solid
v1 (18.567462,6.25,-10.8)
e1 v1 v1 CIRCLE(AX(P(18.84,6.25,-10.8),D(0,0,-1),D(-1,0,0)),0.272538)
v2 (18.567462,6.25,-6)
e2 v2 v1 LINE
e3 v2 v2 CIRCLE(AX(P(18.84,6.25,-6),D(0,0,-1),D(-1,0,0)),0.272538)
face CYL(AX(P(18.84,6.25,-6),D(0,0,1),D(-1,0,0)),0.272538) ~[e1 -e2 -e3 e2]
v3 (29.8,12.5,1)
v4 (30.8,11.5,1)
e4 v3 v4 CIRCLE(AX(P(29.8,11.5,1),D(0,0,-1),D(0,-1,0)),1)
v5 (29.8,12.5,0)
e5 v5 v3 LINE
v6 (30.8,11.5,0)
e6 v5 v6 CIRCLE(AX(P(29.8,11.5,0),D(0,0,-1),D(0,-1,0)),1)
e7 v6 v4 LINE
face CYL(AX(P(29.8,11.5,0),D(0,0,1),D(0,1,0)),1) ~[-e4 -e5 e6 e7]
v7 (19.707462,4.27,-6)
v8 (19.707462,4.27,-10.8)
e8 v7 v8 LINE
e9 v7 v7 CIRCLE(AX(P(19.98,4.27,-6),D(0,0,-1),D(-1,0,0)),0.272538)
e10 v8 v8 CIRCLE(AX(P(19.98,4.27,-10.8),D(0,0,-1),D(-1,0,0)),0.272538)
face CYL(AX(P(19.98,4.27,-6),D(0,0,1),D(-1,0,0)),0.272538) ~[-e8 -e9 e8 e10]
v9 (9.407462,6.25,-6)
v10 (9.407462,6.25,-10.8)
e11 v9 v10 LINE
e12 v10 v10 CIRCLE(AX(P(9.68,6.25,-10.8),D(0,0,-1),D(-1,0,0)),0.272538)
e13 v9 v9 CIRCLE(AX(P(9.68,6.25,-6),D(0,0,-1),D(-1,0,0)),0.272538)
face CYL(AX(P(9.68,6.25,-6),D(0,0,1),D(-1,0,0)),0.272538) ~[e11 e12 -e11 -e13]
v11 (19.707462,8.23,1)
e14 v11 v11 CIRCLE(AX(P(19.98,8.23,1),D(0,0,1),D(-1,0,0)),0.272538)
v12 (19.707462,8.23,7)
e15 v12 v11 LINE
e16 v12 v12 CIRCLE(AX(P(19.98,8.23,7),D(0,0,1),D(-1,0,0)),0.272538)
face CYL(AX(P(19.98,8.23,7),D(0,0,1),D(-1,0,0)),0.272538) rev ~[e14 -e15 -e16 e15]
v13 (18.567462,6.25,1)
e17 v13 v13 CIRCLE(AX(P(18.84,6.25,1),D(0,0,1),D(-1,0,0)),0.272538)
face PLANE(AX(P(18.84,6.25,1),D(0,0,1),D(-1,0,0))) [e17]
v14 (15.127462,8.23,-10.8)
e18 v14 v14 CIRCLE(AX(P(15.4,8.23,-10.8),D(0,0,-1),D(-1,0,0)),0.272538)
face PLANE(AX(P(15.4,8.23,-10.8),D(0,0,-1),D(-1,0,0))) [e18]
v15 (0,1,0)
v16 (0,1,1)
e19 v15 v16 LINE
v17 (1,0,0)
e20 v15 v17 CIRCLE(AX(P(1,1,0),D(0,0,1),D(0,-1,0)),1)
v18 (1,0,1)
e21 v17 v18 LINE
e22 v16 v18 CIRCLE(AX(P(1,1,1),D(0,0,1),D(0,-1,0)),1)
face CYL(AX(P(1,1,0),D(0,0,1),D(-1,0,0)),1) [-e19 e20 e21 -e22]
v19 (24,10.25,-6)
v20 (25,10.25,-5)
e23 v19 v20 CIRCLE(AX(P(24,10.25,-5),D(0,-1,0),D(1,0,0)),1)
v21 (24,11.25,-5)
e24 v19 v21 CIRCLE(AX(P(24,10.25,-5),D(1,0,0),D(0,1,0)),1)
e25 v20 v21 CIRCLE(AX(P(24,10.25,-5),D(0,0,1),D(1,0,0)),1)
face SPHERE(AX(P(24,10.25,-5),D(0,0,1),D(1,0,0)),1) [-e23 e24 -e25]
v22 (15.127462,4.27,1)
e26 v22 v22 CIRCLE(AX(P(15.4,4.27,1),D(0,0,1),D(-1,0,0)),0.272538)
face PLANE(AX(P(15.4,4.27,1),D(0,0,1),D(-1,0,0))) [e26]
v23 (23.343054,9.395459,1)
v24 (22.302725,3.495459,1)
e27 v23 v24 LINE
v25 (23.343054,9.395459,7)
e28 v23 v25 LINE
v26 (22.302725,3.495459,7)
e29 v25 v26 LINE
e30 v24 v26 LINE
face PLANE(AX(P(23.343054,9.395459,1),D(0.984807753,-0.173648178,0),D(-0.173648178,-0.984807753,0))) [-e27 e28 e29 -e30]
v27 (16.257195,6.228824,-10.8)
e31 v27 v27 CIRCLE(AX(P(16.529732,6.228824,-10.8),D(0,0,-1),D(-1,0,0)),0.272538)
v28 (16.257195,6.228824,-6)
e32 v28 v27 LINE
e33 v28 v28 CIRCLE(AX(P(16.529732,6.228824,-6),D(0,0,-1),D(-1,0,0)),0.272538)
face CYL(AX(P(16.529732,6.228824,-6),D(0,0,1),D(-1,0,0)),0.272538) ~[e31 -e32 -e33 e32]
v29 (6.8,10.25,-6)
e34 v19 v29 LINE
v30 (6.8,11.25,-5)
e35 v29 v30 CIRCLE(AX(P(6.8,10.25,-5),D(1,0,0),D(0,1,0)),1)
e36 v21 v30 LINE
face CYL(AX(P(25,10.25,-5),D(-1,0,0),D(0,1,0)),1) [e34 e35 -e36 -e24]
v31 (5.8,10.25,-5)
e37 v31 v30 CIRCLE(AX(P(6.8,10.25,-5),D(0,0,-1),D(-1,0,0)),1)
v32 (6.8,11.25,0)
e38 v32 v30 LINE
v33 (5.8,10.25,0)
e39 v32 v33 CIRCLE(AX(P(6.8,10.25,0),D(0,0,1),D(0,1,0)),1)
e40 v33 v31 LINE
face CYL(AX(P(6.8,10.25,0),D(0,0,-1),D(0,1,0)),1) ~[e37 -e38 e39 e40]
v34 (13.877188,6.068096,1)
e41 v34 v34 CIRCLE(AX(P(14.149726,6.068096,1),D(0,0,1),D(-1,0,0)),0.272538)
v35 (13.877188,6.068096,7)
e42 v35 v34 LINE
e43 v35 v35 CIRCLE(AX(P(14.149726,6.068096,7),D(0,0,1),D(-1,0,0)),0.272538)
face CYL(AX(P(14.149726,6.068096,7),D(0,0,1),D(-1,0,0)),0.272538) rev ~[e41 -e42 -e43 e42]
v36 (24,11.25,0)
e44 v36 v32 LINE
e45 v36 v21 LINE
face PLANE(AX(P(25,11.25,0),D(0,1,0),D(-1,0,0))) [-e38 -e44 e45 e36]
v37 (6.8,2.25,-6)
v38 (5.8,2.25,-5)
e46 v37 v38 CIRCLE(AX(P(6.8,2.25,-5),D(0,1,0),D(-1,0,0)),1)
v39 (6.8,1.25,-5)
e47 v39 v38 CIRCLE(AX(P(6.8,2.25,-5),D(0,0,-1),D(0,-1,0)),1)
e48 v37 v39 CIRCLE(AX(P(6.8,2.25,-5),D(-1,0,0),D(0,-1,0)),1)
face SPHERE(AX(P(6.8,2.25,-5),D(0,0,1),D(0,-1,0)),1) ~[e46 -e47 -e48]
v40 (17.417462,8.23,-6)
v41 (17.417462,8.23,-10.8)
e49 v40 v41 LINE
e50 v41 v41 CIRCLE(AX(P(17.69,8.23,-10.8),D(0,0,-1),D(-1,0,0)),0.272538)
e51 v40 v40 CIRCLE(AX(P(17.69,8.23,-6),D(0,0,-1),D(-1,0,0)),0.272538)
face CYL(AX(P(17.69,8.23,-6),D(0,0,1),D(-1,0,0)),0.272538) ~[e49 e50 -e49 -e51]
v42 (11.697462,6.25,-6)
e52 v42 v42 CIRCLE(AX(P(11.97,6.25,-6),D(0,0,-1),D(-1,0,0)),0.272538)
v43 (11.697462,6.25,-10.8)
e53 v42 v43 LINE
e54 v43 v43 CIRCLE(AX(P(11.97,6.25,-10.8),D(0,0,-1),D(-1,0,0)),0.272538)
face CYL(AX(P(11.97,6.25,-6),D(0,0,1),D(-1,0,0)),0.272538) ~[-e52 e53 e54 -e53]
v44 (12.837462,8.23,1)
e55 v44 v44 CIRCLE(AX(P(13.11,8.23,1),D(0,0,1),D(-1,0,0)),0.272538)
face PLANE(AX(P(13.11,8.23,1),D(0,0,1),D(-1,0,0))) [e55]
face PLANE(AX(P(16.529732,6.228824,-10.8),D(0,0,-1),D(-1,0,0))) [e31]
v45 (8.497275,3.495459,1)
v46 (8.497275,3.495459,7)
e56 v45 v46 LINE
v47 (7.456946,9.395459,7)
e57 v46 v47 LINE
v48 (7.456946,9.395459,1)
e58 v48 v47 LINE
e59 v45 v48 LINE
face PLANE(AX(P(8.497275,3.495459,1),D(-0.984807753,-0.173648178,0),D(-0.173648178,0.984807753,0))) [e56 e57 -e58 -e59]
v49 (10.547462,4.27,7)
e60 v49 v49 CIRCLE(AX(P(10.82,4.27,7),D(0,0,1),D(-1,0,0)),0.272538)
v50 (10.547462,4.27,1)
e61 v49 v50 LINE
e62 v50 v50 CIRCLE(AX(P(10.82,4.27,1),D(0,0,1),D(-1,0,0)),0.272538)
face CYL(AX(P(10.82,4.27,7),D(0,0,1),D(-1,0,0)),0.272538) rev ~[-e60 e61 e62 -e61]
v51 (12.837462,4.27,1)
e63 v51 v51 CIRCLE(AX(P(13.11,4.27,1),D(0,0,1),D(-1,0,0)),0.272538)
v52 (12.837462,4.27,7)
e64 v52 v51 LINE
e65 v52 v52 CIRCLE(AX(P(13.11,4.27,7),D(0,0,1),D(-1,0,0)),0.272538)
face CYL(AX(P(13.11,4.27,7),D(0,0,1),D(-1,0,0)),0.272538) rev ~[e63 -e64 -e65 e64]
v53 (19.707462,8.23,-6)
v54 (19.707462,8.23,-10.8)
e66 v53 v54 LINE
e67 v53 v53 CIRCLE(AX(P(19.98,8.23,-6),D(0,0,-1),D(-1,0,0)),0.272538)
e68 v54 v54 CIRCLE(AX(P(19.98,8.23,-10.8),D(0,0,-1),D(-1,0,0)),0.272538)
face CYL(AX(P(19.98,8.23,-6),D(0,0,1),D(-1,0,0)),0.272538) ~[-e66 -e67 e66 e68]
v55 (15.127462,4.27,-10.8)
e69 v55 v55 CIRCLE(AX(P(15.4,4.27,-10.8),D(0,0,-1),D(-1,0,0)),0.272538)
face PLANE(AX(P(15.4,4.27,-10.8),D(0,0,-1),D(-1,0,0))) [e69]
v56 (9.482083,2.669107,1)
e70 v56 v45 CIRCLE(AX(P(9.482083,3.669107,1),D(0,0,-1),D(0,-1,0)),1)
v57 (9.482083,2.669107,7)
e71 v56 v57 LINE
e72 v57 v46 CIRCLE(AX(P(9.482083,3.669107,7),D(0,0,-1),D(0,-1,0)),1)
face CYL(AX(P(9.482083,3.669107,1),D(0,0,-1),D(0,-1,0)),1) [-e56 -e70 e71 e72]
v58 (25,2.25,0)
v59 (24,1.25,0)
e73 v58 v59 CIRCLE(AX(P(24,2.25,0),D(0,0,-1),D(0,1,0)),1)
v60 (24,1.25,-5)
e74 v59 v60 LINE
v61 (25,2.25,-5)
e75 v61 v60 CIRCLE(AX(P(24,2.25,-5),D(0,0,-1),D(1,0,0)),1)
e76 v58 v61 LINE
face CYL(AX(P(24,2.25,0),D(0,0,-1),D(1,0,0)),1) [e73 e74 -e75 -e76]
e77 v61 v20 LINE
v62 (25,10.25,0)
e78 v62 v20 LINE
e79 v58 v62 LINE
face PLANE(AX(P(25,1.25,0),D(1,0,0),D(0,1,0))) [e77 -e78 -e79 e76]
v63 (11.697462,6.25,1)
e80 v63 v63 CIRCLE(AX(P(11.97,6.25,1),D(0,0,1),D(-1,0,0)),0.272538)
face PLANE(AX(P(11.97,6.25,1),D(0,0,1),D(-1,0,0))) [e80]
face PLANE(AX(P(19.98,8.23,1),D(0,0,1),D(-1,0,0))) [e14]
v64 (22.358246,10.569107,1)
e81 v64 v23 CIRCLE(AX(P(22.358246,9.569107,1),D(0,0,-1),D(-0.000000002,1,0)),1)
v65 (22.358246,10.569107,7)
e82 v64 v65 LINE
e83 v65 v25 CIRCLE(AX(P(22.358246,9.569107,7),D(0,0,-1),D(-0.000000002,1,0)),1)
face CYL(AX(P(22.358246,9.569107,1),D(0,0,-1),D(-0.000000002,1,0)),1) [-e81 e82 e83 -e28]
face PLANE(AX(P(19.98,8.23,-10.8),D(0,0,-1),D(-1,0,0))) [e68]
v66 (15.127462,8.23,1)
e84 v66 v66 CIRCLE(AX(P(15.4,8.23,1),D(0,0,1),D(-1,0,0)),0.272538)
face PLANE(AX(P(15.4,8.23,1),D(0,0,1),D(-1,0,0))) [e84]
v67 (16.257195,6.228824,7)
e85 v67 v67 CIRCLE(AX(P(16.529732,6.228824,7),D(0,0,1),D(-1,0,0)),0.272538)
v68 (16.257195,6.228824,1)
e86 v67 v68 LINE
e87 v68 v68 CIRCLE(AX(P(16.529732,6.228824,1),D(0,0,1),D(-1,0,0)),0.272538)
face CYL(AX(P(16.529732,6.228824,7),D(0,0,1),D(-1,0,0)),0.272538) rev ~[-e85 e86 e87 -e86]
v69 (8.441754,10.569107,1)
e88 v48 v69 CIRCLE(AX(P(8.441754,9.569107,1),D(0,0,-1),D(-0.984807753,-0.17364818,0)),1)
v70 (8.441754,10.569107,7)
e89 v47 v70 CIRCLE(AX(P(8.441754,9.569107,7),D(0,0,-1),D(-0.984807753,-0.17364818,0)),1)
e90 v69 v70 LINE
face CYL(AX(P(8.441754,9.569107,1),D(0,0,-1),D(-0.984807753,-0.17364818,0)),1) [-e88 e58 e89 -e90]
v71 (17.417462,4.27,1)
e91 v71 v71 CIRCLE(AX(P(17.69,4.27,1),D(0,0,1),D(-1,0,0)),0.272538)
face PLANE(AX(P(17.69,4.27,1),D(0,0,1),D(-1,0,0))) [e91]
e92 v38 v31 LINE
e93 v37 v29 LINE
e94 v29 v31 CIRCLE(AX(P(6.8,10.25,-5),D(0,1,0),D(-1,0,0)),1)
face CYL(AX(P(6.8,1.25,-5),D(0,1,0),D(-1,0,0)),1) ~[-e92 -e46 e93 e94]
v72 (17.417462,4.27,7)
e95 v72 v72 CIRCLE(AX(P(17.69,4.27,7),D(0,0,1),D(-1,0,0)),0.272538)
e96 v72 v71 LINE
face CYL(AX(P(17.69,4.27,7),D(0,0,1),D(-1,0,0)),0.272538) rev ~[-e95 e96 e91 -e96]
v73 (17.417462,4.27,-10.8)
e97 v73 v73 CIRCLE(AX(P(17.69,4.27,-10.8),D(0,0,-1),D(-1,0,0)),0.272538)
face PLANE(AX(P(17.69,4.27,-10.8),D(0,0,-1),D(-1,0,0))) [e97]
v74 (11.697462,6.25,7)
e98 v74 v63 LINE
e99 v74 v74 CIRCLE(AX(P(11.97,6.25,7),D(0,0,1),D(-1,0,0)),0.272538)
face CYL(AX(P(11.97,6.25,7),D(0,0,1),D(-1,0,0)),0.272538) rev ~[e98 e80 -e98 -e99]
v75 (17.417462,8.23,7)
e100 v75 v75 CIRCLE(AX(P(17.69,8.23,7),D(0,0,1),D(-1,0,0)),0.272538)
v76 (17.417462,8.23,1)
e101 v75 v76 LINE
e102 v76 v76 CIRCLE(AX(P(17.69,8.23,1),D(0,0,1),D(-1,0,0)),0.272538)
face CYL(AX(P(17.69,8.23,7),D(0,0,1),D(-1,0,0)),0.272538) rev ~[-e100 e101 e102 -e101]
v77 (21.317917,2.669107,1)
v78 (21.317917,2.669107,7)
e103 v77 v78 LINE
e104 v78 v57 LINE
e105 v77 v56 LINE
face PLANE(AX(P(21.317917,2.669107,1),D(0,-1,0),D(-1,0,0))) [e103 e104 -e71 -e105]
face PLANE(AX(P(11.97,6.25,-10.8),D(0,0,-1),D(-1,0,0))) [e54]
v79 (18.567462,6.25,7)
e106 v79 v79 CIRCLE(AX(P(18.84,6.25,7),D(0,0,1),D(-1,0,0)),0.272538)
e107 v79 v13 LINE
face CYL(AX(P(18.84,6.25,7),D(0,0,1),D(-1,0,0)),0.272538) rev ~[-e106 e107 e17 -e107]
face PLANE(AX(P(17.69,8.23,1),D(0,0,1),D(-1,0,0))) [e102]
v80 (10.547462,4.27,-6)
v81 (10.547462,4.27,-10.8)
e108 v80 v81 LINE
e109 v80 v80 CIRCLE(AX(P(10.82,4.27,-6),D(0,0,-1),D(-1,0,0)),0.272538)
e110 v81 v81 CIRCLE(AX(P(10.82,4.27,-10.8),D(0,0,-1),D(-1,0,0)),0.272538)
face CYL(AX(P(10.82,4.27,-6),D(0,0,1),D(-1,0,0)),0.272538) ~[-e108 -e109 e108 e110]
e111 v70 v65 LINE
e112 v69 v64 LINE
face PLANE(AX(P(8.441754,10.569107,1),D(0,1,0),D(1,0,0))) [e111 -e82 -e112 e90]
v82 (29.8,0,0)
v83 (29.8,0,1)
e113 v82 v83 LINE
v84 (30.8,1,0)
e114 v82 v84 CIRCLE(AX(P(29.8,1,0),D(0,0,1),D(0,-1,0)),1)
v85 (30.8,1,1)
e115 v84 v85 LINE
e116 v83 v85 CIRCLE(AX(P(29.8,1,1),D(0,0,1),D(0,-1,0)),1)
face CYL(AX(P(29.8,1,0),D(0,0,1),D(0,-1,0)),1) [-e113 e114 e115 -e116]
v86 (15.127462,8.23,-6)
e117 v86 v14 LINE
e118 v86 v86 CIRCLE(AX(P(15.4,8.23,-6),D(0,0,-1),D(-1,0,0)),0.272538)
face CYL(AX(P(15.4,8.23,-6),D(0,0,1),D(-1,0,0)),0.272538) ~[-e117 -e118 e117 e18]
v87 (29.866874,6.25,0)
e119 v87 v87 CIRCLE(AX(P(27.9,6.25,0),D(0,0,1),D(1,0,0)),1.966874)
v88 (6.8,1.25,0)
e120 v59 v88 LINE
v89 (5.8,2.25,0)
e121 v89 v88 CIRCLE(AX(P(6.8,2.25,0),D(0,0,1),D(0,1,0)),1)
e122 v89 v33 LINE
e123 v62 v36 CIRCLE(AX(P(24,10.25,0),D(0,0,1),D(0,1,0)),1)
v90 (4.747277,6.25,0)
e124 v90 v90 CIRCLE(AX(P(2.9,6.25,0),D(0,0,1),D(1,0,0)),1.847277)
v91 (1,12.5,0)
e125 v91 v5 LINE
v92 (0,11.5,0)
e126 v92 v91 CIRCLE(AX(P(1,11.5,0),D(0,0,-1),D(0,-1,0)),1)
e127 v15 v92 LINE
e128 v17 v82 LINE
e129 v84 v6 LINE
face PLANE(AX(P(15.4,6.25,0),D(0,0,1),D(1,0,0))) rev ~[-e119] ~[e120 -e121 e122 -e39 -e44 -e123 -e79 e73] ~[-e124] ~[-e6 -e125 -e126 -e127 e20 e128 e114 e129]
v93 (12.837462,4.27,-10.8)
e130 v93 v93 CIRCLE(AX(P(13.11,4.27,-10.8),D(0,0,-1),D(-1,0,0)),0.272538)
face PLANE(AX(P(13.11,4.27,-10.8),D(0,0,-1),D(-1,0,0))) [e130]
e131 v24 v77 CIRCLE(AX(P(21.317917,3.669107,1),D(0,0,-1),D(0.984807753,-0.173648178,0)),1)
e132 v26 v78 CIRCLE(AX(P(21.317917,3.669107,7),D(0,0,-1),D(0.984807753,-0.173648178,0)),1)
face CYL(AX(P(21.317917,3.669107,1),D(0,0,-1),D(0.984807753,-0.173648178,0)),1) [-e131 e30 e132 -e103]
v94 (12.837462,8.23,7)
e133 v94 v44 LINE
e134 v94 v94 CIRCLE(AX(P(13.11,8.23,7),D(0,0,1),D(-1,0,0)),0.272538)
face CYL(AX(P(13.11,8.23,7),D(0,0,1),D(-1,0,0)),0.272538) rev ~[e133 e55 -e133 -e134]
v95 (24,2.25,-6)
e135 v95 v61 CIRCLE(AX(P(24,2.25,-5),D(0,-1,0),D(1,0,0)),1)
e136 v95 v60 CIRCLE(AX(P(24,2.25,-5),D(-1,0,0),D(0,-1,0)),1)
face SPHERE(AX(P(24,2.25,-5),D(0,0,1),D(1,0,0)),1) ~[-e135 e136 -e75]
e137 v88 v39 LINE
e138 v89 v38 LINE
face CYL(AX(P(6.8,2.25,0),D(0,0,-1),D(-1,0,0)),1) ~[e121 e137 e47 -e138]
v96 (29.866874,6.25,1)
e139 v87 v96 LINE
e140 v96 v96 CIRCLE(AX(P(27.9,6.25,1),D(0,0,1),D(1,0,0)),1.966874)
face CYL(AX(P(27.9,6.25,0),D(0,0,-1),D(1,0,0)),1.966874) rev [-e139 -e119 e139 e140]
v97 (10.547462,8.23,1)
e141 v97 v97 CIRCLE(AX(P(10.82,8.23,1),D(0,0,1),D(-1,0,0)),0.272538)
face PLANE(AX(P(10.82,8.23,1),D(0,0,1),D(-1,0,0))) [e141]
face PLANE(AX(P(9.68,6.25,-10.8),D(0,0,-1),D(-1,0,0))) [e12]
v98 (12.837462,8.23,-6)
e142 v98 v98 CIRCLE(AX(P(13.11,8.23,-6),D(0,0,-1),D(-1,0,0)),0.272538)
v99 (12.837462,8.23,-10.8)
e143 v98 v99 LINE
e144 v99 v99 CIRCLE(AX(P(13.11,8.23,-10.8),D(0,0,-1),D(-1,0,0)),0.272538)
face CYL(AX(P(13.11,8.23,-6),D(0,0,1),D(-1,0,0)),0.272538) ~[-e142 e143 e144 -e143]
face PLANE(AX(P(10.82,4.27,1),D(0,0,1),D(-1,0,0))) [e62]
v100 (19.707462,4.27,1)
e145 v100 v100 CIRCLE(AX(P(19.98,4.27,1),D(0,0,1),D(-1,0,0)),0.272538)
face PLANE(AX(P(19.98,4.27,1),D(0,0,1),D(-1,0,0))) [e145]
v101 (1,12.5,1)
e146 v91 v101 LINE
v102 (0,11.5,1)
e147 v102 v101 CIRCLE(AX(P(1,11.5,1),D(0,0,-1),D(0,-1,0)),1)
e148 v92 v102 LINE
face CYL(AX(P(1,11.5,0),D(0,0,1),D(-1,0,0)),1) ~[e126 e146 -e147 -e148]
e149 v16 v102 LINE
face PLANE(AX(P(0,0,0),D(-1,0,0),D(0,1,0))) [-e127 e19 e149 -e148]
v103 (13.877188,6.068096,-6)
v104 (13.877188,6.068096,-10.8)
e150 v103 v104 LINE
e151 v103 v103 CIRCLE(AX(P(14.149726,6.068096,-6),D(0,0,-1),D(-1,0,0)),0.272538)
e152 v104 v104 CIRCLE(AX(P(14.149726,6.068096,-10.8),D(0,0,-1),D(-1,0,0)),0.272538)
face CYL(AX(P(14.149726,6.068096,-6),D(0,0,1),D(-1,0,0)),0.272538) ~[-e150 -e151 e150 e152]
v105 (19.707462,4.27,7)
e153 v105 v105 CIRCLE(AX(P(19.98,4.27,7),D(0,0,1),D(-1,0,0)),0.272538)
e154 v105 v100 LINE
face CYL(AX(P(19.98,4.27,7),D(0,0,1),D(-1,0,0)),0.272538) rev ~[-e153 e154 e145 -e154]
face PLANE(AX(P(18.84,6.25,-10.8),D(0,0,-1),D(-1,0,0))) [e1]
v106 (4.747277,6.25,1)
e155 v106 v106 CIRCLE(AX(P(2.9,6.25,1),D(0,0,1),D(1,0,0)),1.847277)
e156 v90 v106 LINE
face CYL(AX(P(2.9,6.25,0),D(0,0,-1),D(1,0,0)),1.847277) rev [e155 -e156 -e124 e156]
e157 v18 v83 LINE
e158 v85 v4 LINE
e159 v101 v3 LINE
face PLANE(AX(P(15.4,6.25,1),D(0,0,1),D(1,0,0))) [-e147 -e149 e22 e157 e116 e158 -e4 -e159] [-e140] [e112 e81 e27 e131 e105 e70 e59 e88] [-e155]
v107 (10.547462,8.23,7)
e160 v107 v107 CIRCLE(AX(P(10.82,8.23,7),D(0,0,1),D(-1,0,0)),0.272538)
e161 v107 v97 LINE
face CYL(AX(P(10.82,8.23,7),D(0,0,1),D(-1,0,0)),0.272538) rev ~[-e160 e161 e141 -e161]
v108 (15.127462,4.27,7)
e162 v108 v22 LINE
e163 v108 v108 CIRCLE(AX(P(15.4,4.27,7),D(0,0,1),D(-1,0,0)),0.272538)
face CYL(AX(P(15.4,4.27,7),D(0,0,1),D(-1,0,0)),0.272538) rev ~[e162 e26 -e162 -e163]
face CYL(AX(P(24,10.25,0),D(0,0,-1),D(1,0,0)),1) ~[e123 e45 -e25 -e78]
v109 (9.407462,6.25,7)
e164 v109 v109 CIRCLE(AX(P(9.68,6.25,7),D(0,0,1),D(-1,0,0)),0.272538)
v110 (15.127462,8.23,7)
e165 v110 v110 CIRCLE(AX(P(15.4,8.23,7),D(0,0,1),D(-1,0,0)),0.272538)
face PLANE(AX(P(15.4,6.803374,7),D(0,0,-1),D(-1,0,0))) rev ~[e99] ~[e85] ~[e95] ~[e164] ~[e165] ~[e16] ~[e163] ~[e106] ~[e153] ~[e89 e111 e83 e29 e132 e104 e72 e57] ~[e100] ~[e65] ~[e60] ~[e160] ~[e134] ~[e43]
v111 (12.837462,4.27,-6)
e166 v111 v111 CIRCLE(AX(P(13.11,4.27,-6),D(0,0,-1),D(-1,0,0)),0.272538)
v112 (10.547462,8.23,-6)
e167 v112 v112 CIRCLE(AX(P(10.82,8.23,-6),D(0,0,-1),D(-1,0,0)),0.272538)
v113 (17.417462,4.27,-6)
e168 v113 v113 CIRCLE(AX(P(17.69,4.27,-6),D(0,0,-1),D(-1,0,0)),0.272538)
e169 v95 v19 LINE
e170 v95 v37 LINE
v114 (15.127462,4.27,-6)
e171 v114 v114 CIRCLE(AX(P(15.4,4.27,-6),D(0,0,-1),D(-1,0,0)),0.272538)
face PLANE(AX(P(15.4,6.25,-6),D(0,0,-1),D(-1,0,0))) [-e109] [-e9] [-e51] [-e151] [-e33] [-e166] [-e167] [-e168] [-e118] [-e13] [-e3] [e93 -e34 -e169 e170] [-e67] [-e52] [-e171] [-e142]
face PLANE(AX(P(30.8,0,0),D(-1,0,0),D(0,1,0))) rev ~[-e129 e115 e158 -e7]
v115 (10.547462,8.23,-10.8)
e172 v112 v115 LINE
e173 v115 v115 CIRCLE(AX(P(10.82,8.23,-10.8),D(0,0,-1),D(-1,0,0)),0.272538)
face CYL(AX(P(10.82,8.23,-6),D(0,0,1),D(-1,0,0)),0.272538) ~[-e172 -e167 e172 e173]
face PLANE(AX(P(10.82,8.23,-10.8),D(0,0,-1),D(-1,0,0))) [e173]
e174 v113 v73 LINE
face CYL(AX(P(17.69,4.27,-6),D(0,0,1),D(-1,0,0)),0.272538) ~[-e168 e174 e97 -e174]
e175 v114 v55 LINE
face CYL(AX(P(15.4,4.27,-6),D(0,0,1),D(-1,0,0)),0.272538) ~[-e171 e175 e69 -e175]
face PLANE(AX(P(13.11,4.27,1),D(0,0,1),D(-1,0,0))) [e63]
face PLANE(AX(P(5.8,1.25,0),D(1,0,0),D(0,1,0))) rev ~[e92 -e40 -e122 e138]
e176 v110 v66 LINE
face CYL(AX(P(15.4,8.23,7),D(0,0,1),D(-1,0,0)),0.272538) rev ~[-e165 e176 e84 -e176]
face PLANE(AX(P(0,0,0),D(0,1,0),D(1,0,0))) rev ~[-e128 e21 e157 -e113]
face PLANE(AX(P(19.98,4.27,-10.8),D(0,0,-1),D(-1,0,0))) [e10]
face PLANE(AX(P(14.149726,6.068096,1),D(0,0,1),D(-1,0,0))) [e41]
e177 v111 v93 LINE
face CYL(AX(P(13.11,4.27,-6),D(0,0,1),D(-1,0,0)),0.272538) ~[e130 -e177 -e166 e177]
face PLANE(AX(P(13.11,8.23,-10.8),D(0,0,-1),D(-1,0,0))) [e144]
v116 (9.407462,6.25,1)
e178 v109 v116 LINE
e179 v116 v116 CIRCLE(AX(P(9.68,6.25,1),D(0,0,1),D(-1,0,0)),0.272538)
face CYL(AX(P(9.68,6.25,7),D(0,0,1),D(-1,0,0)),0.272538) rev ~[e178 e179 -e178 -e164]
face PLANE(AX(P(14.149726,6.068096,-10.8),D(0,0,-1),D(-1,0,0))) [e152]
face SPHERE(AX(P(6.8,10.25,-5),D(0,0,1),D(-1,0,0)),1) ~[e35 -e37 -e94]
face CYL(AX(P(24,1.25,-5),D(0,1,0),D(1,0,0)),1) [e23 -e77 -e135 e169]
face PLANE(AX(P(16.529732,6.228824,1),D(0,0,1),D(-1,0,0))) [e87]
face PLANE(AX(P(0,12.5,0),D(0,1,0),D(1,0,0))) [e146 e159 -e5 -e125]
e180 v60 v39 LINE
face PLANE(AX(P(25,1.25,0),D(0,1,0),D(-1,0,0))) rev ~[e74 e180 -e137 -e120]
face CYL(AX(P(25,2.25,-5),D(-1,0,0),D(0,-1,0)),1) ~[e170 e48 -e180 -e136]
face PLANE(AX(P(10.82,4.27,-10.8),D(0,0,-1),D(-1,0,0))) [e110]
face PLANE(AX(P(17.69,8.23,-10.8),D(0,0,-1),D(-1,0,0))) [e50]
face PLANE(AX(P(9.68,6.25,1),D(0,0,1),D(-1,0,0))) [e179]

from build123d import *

# Parameters (mm, degrees)
ESQUISSE1_W      = 30.8
ESQUISSE1_H      = 12.5
ESQUISSE1_R      = 1.847277142
ESQUISSE1_R_2    = 1.96687405
EXTRUSION1_DEPTH = 1
EXTRUSION2_DEPTH = 6
ESQUISSE3_W      = 19.2
ESQUISSE3_H      = 10
EXTRUSION3_DEPTH = 6
ESQUISSE4_R      = 0.272537765
EXTRUSION4_DEPTH = 4.8
CONG_1_R         = 1
EXTRUSION5_START = 6
ESQUISSE7_R      = 0.272537765
EXTRUSION5_DEPTH = 6


with BuildPart() as part:
    # Esquisse1 → Extrusion1 (new body)
    with BuildSketch(Plane.XY):
        with Locations((15.4, 6.25)):
            Rectangle(ESQUISSE1_W, ESQUISSE1_H)
        with Locations((2.9, 6.25)):
            Circle(ESQUISSE1_R, mode=Mode.SUBTRACT)
        with Locations((27.9, 6.25)):
            Circle(ESQUISSE1_R_2, mode=Mode.SUBTRACT)
    extrude(amount=EXTRUSION1_DEPTH)

    # Esquisse2 → Extrusion2 (add)
    with BuildSketch(Plane.XY.offset(1)):
        with BuildLine():
            Line((8.441753593, 10.569106944), (22.358246407, 10.569106944))
            ThreePointArc((22.358246407, 10.569106944), (23.124290851, 10.211894554), (23.34305416, 9.395458766))
            Line((23.34305416, 9.395458766), (22.302724974, 3.495458766))
            ThreePointArc((22.302724974, 3.495458766), (21.960704831, 2.903062501), (21.317917221, 2.669106944))
            Line((21.317917221, 2.669106944), (9.482082779, 2.669106944))
            ThreePointArc((9.482082779, 2.669106944), (8.839295169, 2.903062501), (8.497275026, 3.495458766))
            Line((8.497275026, 3.495458766), (7.45694584, 9.395458766))
            ThreePointArc((7.45694584, 9.395458766), (7.675709149, 10.211894554), (8.441753593, 10.569106944))
        make_face()
    extrude(amount=EXTRUSION2_DEPTH)

    # Esquisse3 → Extrusion3 (add)
    with BuildSketch(Plane(origin=(0, 0, 0), x_dir=(-1, 0, 0), z_dir=(0, 0, -1))):
        with Locations((-15.4, 6.25)):
            Rectangle(ESQUISSE3_W, ESQUISSE3_H)
    extrude(amount=EXTRUSION3_DEPTH)

    # Esquisse4 → Extrusion4 (add)
    with BuildSketch(Plane(origin=(0, 0, -6), x_dir=(-1, 0, 0), z_dir=(0, 0, -1))):
        with Locations((-19.98, 8.23)):
            Circle(ESQUISSE4_R)
        with Locations((-17.69, 8.23)):
            Circle(ESQUISSE4_R)
        with Locations((-15.4, 8.23)):
            Circle(ESQUISSE4_R)
        with Locations((-13.11, 8.23)):
            Circle(ESQUISSE4_R)
        with Locations((-10.82, 8.23)):
            Circle(ESQUISSE4_R)
        with Locations((-9.68, 6.25)):
            Circle(ESQUISSE4_R)
        with Locations((-11.97, 6.25)):
            Circle(ESQUISSE4_R)
        with Locations((-14.149725584, 6.068095869)):
            Circle(ESQUISSE4_R)
        with Locations((-16.529732269, 6.22882427)):
            Circle(ESQUISSE4_R)
        with Locations((-18.84, 6.25)):
            Circle(ESQUISSE4_R)
        with Locations((-19.98, 4.27)):
            Circle(ESQUISSE4_R)
        with Locations((-17.69, 4.27)):
            Circle(ESQUISSE4_R)
        with Locations((-15.4, 4.27)):
            Circle(ESQUISSE4_R)
        with Locations((-13.11, 4.27)):
            Circle(ESQUISSE4_R)
        with Locations((-10.82, 4.27)):
            Circle(ESQUISSE4_R)
    extrude(amount=EXTRUSION4_DEPTH)

    # Congé1
    cong_1_edges = [part.edges().sort_by_distance(p)[0] for p in [
        (25, 11.25, -3),
        (25, 1.25, -3),
        (5.8, 1.25, -3),
        (5.8, 11.25, -3),
        (25, 6.25, -6),
        (15.4, 1.25, -6),
        (5.8, 6.25, -6),
        (15.4, 11.25, -6),
        (0, 12.5, 0.5),
        (30.8, 12.5, 0.5),
        (30.8, 0, 0.5),
        (0, 0, 0.5),
    ]]
    fillet(cong_1_edges, radius=CONG_1_R)

    # Esquisse7 → Extrusion5 (cut)
    with BuildSketch(Plane.XY.offset(1).offset(EXTRUSION5_START)):
        with Locations(Location((19.98, 8.23, 0), (0, 0, 180))):
            Circle(ESQUISSE7_R)
        with Locations(Location((17.69, 8.23, 0), (0, 0, 180))):
            Circle(ESQUISSE7_R)
        with Locations(Location((15.4, 8.23, 0), (0, 0, 180))):
            Circle(ESQUISSE7_R)
        with Locations(Location((13.11, 8.23, 0), (0, 0, 180))):
            Circle(ESQUISSE7_R)
        with Locations(Location((10.82, 8.23, 0), (0, 0, 180))):
            Circle(ESQUISSE7_R)
        with Locations(Location((9.68, 6.25, 0), (0, 0, 180))):
            Circle(ESQUISSE7_R)
        with Locations(Location((11.97, 6.25, 0), (0, 0, 180))):
            Circle(ESQUISSE7_R)
        with Locations(Location((14.149725584, 6.068095869, 0), (0, 0, 180))):
            Circle(ESQUISSE7_R)
        with Locations(Location((16.529732269, 6.22882427, 0), (0, 0, 180))):
            Circle(ESQUISSE7_R)
        with Locations(Location((18.84, 6.25, 0), (0, 0, 180))):
            Circle(ESQUISSE7_R)
        with Locations(Location((19.98, 4.27, 0), (0, 0, 180))):
            Circle(ESQUISSE7_R)
        with Locations(Location((17.69, 4.27, 0), (0, 0, 180))):
            Circle(ESQUISSE7_R)
        with Locations(Location((15.4, 4.27, 0), (0, 0, 180))):
            Circle(ESQUISSE7_R)
        with Locations(Location((13.11, 4.27, 0), (0, 0, 180))):
            Circle(ESQUISSE7_R)
        with Locations(Location((10.82, 4.27, 0), (0, 0, 180))):
            Circle(ESQUISSE7_R)
    extrude(amount=-EXTRUSION5_DEPTH, mode=Mode.SUBTRACT)


solid = part.part
